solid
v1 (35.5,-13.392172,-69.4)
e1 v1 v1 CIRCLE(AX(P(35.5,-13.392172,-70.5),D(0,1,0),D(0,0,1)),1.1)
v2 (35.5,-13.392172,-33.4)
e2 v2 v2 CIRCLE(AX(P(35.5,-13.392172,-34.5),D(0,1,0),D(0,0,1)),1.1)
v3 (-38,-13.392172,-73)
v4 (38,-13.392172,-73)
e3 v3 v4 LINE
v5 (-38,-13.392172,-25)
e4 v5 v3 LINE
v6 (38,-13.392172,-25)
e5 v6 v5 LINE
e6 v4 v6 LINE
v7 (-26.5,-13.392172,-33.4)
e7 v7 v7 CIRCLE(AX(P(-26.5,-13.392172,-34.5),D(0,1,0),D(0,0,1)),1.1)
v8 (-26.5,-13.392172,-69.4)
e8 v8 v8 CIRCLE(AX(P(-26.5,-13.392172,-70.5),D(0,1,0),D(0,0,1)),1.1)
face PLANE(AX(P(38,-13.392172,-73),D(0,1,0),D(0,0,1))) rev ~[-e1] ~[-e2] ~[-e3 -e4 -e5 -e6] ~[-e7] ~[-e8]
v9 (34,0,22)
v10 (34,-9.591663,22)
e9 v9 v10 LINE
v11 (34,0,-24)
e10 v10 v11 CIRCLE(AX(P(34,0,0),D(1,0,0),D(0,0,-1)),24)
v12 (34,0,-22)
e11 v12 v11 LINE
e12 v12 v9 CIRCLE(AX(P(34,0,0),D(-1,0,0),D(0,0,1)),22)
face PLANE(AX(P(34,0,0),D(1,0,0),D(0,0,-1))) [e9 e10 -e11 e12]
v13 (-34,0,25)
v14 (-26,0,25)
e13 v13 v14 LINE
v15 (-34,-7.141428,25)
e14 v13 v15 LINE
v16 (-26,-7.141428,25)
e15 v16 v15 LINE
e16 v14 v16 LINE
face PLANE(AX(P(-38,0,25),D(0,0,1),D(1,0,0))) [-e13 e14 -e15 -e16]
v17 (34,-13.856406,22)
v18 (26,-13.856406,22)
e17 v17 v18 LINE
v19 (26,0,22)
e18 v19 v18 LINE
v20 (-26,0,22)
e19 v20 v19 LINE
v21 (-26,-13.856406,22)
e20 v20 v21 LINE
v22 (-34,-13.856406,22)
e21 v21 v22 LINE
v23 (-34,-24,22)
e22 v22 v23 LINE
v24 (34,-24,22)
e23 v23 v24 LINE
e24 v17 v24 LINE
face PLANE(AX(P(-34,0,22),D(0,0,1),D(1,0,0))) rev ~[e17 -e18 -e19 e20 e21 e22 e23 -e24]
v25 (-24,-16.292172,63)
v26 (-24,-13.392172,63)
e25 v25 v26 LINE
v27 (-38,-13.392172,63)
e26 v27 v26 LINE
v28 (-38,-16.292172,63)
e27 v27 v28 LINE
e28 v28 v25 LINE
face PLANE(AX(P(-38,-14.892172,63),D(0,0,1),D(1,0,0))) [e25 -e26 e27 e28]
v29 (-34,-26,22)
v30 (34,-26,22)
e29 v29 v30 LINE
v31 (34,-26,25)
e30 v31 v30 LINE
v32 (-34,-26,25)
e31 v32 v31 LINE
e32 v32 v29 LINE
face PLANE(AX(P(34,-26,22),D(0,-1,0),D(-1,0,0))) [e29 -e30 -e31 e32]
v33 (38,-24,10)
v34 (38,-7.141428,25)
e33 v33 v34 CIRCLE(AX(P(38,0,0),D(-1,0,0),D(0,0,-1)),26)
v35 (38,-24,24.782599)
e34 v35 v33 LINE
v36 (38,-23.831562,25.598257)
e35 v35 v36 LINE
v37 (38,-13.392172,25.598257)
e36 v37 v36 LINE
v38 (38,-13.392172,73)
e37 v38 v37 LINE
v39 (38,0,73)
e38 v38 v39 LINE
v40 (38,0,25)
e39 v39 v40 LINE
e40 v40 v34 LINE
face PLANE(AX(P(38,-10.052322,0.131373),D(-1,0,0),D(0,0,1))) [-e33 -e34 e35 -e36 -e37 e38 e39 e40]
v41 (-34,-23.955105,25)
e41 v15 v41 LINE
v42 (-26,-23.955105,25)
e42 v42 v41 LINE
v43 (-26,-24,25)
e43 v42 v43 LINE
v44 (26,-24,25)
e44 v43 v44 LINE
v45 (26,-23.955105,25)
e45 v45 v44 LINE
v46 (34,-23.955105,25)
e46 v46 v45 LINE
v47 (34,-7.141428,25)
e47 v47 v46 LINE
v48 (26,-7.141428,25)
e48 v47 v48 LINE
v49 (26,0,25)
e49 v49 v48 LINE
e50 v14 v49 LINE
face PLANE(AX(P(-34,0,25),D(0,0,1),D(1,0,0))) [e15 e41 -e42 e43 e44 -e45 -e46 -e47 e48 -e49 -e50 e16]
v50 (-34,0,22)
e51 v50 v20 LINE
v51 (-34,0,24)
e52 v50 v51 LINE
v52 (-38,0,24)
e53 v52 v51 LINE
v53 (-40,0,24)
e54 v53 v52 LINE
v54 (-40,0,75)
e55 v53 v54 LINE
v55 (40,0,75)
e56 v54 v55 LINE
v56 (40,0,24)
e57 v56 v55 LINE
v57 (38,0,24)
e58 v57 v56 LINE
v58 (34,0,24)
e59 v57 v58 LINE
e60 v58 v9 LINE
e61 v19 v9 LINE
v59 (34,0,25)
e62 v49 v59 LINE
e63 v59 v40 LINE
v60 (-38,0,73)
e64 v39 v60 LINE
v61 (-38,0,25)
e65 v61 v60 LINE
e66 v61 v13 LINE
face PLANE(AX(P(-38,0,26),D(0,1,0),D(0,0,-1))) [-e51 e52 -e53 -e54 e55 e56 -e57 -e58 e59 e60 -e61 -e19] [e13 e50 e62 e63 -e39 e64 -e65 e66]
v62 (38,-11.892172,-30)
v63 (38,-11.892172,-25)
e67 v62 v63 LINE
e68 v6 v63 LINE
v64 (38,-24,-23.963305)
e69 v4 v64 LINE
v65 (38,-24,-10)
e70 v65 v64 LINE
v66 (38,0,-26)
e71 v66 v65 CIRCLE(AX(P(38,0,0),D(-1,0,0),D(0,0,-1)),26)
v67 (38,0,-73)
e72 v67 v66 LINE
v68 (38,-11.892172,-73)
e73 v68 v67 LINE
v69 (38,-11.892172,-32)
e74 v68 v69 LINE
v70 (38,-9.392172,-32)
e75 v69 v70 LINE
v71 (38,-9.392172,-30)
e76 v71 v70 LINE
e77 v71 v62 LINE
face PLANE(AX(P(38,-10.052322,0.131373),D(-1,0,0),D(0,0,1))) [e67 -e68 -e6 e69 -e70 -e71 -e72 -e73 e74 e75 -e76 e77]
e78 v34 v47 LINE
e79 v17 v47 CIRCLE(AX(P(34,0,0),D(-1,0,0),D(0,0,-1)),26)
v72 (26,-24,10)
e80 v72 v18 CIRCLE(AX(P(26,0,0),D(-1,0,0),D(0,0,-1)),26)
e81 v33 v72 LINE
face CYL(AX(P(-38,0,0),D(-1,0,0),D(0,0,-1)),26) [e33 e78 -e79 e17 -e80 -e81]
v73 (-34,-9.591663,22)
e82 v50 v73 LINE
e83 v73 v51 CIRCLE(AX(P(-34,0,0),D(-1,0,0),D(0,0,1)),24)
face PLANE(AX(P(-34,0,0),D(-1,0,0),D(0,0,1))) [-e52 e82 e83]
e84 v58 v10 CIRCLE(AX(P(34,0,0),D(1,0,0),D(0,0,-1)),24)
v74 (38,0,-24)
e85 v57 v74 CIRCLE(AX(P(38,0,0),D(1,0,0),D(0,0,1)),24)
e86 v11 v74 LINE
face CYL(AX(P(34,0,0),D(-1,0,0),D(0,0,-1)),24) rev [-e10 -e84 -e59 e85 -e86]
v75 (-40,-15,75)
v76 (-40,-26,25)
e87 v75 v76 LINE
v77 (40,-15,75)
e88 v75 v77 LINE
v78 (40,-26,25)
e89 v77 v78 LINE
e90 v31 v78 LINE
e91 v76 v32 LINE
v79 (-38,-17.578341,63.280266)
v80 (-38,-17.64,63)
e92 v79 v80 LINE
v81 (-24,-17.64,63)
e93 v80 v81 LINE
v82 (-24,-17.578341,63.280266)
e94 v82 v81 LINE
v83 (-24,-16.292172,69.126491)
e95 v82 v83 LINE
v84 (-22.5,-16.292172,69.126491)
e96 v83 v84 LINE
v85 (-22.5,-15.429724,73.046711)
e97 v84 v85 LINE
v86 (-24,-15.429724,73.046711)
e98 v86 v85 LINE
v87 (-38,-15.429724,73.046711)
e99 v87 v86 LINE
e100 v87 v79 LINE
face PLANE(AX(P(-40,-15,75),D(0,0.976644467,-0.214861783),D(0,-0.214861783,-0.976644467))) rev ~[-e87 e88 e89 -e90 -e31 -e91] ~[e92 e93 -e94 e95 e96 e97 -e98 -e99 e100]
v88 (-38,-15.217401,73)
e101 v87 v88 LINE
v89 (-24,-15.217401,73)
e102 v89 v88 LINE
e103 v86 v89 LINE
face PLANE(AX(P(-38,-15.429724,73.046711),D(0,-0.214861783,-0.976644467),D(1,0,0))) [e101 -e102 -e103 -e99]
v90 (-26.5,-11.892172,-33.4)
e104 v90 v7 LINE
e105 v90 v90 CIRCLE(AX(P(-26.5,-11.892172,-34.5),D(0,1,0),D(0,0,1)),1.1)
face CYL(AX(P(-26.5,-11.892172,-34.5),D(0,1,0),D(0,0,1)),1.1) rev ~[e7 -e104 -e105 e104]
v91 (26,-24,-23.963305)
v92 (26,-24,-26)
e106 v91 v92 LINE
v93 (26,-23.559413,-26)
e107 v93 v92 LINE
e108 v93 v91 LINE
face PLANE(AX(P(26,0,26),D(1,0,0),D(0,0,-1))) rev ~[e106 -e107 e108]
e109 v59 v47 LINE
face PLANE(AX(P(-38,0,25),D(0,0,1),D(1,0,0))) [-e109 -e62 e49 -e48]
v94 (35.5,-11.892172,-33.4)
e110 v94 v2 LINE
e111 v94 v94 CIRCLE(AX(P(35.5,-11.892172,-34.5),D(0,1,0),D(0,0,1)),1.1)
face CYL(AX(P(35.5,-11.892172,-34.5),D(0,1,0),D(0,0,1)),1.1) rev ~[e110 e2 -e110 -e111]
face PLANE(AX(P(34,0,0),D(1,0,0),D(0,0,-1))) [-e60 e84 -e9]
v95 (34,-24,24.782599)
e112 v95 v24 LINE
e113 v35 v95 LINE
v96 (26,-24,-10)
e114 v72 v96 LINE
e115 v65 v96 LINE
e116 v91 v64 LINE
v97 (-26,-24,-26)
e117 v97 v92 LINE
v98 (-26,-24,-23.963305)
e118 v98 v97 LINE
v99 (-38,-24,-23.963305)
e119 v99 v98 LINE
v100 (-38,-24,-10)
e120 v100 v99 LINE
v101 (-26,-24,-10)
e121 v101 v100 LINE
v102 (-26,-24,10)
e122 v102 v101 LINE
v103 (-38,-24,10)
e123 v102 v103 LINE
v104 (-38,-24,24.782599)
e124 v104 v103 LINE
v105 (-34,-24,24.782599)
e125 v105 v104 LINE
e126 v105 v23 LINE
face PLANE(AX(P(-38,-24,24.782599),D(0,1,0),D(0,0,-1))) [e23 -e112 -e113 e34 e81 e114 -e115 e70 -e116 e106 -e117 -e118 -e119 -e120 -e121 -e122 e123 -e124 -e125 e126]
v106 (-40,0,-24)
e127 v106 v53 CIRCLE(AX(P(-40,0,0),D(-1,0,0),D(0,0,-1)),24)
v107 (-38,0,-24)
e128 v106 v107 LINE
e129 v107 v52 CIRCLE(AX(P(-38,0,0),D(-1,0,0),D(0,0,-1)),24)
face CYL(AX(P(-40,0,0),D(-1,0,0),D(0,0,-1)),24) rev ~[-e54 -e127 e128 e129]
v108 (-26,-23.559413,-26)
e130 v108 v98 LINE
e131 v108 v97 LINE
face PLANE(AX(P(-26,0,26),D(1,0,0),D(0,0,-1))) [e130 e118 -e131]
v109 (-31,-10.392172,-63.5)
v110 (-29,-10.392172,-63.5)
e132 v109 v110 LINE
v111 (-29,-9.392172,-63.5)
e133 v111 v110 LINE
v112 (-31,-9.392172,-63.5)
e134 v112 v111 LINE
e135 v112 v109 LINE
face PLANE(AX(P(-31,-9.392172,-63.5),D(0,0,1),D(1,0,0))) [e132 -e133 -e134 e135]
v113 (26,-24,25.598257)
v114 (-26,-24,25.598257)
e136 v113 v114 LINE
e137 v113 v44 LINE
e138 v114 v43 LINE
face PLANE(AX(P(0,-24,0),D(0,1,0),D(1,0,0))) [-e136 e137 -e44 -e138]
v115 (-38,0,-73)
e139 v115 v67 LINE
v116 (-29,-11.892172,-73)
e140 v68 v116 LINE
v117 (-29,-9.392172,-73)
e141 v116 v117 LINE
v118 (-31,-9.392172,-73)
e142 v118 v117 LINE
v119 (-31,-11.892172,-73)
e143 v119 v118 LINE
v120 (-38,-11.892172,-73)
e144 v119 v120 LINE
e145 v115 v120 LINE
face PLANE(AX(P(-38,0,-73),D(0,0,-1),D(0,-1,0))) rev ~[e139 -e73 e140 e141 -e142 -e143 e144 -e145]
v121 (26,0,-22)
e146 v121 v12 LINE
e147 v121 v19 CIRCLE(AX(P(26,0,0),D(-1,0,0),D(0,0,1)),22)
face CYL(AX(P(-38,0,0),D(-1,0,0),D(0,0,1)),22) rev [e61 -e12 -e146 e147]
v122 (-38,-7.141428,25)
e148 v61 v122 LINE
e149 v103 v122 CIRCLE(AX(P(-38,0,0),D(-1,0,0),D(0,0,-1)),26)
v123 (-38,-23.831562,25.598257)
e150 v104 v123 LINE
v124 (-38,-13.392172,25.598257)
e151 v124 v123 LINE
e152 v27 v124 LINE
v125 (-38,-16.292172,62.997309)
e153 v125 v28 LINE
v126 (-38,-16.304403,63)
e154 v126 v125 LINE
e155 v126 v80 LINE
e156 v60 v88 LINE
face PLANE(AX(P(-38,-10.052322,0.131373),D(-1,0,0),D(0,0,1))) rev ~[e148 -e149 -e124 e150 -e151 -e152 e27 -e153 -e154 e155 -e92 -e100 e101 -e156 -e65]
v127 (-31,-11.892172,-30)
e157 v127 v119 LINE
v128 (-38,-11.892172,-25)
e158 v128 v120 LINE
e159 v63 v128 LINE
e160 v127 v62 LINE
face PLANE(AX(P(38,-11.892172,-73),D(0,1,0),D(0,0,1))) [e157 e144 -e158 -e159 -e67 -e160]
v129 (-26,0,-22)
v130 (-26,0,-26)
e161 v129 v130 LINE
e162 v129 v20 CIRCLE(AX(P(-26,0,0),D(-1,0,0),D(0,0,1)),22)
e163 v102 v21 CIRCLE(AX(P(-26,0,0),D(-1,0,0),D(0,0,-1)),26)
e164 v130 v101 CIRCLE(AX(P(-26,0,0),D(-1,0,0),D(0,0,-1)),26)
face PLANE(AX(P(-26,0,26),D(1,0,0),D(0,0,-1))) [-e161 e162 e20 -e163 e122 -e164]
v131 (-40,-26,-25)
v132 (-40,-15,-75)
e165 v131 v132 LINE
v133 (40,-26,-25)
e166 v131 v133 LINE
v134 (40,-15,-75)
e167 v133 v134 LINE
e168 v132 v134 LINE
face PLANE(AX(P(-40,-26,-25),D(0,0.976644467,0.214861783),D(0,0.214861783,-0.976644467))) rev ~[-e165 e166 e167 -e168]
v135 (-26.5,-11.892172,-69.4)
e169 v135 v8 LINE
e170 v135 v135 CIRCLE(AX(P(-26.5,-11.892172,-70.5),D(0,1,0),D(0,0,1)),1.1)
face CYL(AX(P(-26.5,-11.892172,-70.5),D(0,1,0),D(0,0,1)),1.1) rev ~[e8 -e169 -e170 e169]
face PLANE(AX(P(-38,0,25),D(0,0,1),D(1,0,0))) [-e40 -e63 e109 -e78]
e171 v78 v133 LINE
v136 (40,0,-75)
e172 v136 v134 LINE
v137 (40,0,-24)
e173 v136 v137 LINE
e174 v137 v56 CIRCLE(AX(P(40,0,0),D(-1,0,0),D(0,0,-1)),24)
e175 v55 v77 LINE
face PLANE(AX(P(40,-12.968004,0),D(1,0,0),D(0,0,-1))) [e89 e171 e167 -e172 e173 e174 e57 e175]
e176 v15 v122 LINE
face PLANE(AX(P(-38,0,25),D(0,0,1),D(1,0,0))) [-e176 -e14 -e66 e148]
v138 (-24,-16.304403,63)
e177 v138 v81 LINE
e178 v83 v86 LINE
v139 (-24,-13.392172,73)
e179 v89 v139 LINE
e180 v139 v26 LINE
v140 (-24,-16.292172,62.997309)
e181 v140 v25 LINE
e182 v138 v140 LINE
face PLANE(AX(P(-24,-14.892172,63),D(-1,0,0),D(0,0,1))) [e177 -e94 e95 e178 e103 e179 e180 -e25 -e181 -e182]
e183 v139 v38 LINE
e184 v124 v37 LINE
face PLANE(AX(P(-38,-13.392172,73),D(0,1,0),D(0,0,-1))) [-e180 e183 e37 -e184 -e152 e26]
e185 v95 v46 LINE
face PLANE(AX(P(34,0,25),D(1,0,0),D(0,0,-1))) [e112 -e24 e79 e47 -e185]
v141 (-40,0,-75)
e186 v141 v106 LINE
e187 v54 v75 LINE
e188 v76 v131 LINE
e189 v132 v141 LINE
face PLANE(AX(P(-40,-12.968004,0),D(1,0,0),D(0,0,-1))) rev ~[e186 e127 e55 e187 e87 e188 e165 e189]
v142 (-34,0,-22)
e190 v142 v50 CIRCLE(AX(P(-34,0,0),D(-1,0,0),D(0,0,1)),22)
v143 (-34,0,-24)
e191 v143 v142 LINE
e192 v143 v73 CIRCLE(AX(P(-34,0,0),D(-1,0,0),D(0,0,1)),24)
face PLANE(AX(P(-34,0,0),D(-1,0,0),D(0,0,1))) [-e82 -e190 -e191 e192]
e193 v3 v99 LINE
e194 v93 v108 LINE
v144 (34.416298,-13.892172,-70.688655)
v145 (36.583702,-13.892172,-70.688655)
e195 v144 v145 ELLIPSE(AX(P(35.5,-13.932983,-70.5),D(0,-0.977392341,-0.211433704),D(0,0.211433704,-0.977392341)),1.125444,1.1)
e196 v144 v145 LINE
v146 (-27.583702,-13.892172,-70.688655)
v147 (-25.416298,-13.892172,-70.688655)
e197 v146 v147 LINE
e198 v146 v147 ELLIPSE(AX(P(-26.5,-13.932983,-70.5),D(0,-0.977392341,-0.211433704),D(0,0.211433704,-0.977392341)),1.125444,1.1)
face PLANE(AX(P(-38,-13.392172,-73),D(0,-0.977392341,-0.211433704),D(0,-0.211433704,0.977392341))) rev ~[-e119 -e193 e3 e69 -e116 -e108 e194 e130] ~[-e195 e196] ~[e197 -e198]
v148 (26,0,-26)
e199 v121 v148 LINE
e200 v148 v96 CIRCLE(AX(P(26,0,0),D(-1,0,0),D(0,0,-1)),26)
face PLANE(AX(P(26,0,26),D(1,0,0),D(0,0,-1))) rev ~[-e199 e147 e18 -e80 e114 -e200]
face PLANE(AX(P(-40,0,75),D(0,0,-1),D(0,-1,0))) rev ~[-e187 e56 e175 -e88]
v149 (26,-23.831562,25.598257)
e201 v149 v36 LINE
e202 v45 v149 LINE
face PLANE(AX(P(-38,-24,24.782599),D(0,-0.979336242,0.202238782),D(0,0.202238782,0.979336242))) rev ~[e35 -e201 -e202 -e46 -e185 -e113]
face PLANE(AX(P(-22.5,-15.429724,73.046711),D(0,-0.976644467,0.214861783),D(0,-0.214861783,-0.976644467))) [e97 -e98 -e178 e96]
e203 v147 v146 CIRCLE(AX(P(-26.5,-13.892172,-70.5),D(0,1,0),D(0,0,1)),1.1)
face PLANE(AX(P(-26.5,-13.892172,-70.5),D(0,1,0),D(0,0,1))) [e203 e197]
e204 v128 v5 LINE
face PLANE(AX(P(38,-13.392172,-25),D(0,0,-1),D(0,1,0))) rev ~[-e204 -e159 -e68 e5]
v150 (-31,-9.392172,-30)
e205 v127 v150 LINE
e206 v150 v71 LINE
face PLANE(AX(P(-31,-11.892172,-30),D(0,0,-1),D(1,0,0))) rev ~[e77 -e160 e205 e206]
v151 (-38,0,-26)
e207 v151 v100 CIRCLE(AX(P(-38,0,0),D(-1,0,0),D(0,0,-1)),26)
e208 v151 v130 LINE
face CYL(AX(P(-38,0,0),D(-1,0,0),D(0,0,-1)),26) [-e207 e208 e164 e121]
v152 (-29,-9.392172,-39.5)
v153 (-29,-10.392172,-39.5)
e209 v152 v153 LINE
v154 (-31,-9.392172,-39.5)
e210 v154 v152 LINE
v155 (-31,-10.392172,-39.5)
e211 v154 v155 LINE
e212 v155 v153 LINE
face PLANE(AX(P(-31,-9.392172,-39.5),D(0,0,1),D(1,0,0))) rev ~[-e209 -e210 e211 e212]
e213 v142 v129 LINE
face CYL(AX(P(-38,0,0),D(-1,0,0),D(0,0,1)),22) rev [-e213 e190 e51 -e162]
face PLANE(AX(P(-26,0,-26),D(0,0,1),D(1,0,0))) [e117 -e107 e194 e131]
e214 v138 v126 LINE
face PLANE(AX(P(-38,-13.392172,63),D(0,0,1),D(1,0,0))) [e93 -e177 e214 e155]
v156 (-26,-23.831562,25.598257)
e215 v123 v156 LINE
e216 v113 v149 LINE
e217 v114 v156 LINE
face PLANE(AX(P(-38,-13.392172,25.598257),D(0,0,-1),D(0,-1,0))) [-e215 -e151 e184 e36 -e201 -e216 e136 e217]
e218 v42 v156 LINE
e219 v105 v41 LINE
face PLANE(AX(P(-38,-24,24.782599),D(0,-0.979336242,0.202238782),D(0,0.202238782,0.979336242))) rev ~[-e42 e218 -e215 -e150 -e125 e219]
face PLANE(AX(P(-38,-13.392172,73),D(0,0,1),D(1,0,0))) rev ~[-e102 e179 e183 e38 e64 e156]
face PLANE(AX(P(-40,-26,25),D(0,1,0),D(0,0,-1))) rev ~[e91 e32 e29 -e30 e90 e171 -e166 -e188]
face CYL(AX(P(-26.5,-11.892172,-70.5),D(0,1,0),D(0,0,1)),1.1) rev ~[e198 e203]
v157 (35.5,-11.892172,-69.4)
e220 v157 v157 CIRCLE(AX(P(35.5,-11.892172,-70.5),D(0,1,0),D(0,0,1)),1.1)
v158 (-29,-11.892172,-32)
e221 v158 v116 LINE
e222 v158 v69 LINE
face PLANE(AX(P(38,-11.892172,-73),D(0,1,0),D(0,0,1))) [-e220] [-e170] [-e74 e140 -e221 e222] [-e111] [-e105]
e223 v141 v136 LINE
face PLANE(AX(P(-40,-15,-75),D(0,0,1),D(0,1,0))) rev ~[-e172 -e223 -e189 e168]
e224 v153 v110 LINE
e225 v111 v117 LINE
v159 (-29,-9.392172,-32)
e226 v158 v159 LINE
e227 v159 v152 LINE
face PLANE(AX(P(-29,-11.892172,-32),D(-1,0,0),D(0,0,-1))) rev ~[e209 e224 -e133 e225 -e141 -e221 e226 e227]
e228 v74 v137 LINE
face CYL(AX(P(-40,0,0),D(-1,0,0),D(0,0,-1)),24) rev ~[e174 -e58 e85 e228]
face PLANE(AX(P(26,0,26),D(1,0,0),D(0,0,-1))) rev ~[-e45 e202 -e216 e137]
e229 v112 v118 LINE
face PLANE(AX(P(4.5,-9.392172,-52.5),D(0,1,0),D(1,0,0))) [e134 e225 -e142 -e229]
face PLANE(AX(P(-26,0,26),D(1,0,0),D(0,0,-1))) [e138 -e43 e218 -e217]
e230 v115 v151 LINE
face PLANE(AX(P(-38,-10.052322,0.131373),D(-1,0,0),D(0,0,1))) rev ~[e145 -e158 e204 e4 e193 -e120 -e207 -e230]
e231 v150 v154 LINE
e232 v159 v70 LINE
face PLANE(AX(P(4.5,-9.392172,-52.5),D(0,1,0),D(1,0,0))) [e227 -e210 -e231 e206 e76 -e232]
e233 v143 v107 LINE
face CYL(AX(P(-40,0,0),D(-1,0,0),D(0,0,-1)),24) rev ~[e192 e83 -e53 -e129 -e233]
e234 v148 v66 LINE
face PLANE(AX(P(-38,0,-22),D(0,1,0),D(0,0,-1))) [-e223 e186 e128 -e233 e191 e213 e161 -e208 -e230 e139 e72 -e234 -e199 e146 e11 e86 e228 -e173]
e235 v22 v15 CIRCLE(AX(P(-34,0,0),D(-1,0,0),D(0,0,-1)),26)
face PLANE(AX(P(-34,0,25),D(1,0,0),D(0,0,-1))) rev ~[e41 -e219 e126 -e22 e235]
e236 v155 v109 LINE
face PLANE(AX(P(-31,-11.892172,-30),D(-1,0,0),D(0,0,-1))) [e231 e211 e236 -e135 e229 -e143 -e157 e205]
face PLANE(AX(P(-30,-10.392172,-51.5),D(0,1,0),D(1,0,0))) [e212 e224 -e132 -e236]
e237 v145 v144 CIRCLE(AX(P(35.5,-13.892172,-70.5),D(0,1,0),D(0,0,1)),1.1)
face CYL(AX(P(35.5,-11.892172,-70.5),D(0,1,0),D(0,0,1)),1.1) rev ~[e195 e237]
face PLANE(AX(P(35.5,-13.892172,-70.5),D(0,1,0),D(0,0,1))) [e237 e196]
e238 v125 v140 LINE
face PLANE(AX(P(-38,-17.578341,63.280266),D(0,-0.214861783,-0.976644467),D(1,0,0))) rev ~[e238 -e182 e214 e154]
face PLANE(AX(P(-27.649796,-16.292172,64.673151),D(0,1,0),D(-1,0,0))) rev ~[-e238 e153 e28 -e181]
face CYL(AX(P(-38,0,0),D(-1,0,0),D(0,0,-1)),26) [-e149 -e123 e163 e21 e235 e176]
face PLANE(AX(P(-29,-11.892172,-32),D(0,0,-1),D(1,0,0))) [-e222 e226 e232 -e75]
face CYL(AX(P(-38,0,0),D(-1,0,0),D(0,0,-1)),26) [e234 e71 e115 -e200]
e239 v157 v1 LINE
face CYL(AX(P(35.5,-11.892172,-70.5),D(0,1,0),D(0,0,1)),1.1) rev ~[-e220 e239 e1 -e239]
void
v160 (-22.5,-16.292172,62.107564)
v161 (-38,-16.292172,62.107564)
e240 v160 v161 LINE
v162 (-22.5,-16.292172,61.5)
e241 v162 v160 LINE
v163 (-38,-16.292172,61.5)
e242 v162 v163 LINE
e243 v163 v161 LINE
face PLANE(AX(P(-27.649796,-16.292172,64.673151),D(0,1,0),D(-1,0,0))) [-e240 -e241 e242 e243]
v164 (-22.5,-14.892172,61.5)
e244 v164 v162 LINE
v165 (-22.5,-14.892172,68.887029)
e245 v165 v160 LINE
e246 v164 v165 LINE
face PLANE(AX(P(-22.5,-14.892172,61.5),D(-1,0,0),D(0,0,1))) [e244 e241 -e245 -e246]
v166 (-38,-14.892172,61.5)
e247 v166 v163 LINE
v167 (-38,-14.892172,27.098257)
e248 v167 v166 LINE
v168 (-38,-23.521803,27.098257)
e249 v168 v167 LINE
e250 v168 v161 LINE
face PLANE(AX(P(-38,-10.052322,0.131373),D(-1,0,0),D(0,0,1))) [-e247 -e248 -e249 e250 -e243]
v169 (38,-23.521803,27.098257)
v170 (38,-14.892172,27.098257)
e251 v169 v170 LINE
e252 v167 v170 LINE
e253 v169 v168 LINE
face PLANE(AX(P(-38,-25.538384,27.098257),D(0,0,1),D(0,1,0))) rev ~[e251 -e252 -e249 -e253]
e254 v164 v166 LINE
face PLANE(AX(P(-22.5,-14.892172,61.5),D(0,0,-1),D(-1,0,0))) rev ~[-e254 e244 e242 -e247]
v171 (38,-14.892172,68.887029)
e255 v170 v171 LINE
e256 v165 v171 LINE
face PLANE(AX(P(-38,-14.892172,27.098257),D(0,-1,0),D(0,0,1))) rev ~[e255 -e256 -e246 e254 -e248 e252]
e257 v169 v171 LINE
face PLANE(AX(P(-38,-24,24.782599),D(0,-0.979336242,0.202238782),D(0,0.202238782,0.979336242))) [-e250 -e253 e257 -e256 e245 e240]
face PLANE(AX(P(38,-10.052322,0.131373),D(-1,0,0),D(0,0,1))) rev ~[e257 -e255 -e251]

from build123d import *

# Parameters (mm, degrees)
EXTRUDE_1_DEPTH          = 40
EXTRUDE_1_DEPTH_BACK     = 40
CUT_EXTRUDE_2_DEPTH      = 34
CUT_EXTRUDE_2_DEPTH_BACK = 34
CUT_EXTRUDE_3_DEPTH      = 38
CUT_EXTRUDE_3_DEPTH_BACK = 38
EXTRUDE_2_DEPTH          = 76
CUT_EXTRUDE_START        = -4
SKETCH_9_R               = 24
CUT_EXTRUDE_4_DEPTH      = 4
SKETCH_10_R              = 24
CUT_EXTRUDE_5_DEPTH      = 4
SKETCH_11_W              = 52
SKETCH_11_H              = 52
CUT_EXTRUDE_6_DEPTH      = 24
SKETCH_16_W              = 76
SKETCH_16_H              = 2
CUT_EXTRUDE_8_DEPTH      = 23.5
EXTRUDE_4_DEPTH          = 77.5
SKETCH_19_W              = 68
SKETCH_19_H              = 3
EXTRUDE_6_DEPTH          = 27
SKETCH_21_W              = 14
SKETCH_21_H              = 10
CUT_EXTRUDE_10_DEPTH     = 2
SKETCH_22_W              = 14
SKETCH_22_H              = 10
CUT_EXTRUDE_11_DEPTH     = 6
EXTRUDE_7_DEPTH          = 1.4
CUT_EXTRUDE_12_DEPTH     = 3.4
SKETCH_25_W              = 68
SKETCH_25_H              = 1
CUT_EXTRUDE_13_DEPTH     = 3.4
SKETCH_26_W              = 48
SKETCH_26_H              = 1.5
EXTRUDE_8_DEPTH          = 78
SKETCH_27_W              = 71
SKETCH_27_H              = 45
SKETCH_27_W_2            = 67
SKETCH_27_H_2            = 41
EXTRUDE_9_DEPTH          = 2.5
SKETCH_28_R              = 1.1
CUT_EXTRUDE_14_DEPTH     = 2
SKETCH_29_W              = 2
SKETCH_29_H              = 24
CUT_EXTRUDE_15_DEPTH     = 1


with BuildPart() as part:
    # Эскиз1 → Бобышка-Вытянуть1 (new, two sides: drawn at the far end of the back side and taken through both)
    with BuildSketch(Plane(origin=(0, 0, 0), x_dir=(0, 0, -1), z_dir=(1, 0, 0)).offset(-EXTRUDE_1_DEPTH_BACK)):
        with BuildLine():
            Line((-75, 0), (-75, -15))
            Line((-75, -15), (-25, -26))
            Line((-25, -26), (-4.563728592, -26))
            Line((-4.563728592, -26), (25, -26))
            Line((25, -26), (75, -15))
            Line((75, -15), (75, 0))
            Line((75, 0), (24, 0))
            ThreePointArc((24, 0), (0, -24), (-24, 0))
            Line((-24, 0), (-75, 0))
        make_face()
    extrude(amount=EXTRUDE_1_DEPTH + EXTRUDE_1_DEPTH_BACK)

    # Эскиз3 → Вырез-Вытянуть2 (cut, two sides: drawn at the far end of the back side and taken through both)
    with BuildSketch(Plane(origin=(0, 0, 0), x_dir=(0, 0, -1), z_dir=(1, 0, 0)).offset(-CUT_EXTRUDE_2_DEPTH_BACK)):
        Polygon((26, 0), (73, 0), (73, -13.392171882), (23.878685446, -24), (-24.782599465, -24), (-73, -13.400590035), (-73, 0), (-26, 0), align=None)
    extrude(amount=CUT_EXTRUDE_2_DEPTH + CUT_EXTRUDE_2_DEPTH_BACK, mode=Mode.SUBTRACT)

    # Эскиз7 → Вырез-Вытянуть3 (cut, two sides: drawn at the far end of the back side and taken through both)
    with BuildSketch(Plane(origin=(0, 0, 0), x_dir=(0, 0, -1), z_dir=(1, 0, 0)).offset(-CUT_EXTRUDE_3_DEPTH_BACK)):
        Polygon((-26.2, 0), (26.2, 0), (73, 0), (73, -13.392171882), (23.963305429, -24), (10.509043724, -24), (-10.509043724, -24), (-24.782599465, -24), (-73, -14.042818852), (-73, 0), align=None)
    extrude(amount=CUT_EXTRUDE_3_DEPTH + CUT_EXTRUDE_3_DEPTH_BACK, mode=Mode.SUBTRACT)

    # Эскиз8 → Бобышка-Вытянуть2 (add)
    with BuildSketch(Plane(origin=(-38, 0, 0), x_dir=(0, 0, -1), z_dir=(1, 0, 0))):
        with BuildLine():
            Line((-26, 0), (-22, 0))
            ThreePointArc((-22, 0), (0, -22), (22, 0))
            Line((22, 0), (26, 0))
            ThreePointArc((26, 0), (0, -26), (-26, 0))
        make_face()
    extrude(amount=EXTRUDE_2_DEPTH)

    # Эскиз9 → Вырез-Вытянуть4 (cut)
    with BuildSketch(Plane(origin=(38, 0, 0), x_dir=(0, 0, -1), z_dir=(1, 0, 0)).offset(CUT_EXTRUDE_START)):
        Circle(SKETCH_9_R)
    extrude(amount=CUT_EXTRUDE_4_DEPTH, mode=Mode.SUBTRACT)

    # Эскиз10 → Вырез-Вытянуть5 (cut)
    with BuildSketch(Plane.ZY.offset(38)):
        Circle(SKETCH_10_R)
    extrude(amount=-CUT_EXTRUDE_5_DEPTH, mode=Mode.SUBTRACT)

    # Эскиз11 → Вырез-Вытянуть6 (cut)
    with BuildSketch(Plane(origin=(0, 0, 0), x_dir=(1, 0, 0), z_dir=(0, 1, 0))):
        Rectangle(SKETCH_11_W, SKETCH_11_H)
    extrude(amount=-CUT_EXTRUDE_6_DEPTH, mode=Mode.SUBTRACT)

    # Эскиз16 → Вырез-Вытянуть8 (cut)
    with BuildSketch(Plane(origin=(0, 0, 0), x_dir=(1, 0, 0), z_dir=(0, 1, 0))):
        with Locations((0, -26)):
            Rectangle(SKETCH_16_W, SKETCH_16_H)
    extrude(amount=-CUT_EXTRUDE_8_DEPTH, mode=Mode.SUBTRACT)

    # Эскиз17 → Бобышка-Вытянуть4 (add)
    with BuildSketch(Plane(origin=(-38, 0, 0), x_dir=(0, 0, -1), z_dir=(1, 0, 0))):
        Polygon((-73, -13.392171882), (-25.598256637, -13.392171882), (-25.598256637, -25.86838354), (-27.098256637, -25.53838354), (-27.098256637, -14.892171882), (-73, -14.892171882), align=None)
    extrude(amount=EXTRUDE_4_DEPTH)

    # Эскиз19 → Бобышка-Вытянуть6 (add)
    with BuildSketch(Plane(origin=(0, 0, 0), x_dir=(1, 0, 0), z_dir=(0, 1, 0))):
        with Locations((0, -23.5)):
            Rectangle(SKETCH_19_W, SKETCH_19_H)
    extrude(amount=-EXTRUDE_6_DEPTH)

    # Эскиз21 → Вырез-Вытянуть10 (cut)
    with BuildSketch(Plane(origin=(0, -30.045784052, 6.610072491), x_dir=(1, 0, 0), z_dir=(0, -0.9766444667050901, 0.21486178267511963))):
        with Locations((-31, 63.025408263)):
            Rectangle(SKETCH_21_W, SKETCH_21_H)
    extrude(amount=-CUT_EXTRUDE_10_DEPTH, mode=Mode.SUBTRACT)

    # Эскиз22 → Вырез-Вытянуть11 (cut)
    with BuildSketch(Plane(origin=(0, -13.392171882, 0), x_dir=(1, 0, 0), z_dir=(0, 1, 0))):
        with Locations((-31, -68)):
            Rectangle(SKETCH_22_W, SKETCH_22_H)
    extrude(amount=-CUT_EXTRUDE_11_DEPTH, mode=Mode.SUBTRACT)

    # Эскиз23 → Бобышка-Вытянуть7 (add)
    with BuildSketch(Plane.XZ.offset(14.892171882)):
        Polygon((-38, 63), (-24, 63), (-24, 73.046711067), (-22.5, 73.046711067), (-22.5, 64.14337403), (-22.5, 61.5), (-38, 61.5), align=None)
    extrude(amount=EXTRUDE_7_DEPTH)

    # Эскиз24 → Вырез-Вытянуть12 (cut)
    with BuildSketch(Plane(origin=(-22.5, 0, 0), x_dir=(0, 0, -1), z_dir=(1, 0, 0))):
        Polygon((-73.046711067, -15.429723565), (-69.126491444, -16.292171882), (-73.046711067, -16.292171882), align=None)
    extrude(amount=-CUT_EXTRUDE_12_DEPTH, mode=Mode.SUBTRACT)

    # Эскиз25 → Вырез-Вытянуть13 (cut)
    with BuildSketch(Plane(origin=(0, 0, 22), x_dir=(-1, 0, 0), z_dir=(0, 0, -1))):
        with Locations((0, -26.5)):
            Rectangle(SKETCH_25_W, SKETCH_25_H)
    extrude(amount=-CUT_EXTRUDE_13_DEPTH, mode=Mode.SUBTRACT)

    # Эскиз26 → Бобышка-Вытянуть8 (add)
    with BuildSketch(Plane.ZY.offset(-38)):
        with Locations((-49, -12.642171882)):
            Rectangle(SKETCH_26_W, SKETCH_26_H)
    extrude(amount=EXTRUDE_8_DEPTH)

    # Эскиз27 → Бобышка-Вытянуть9 (add)
    with BuildSketch(Plane(origin=(0, -11.892171882, 0), x_dir=(1, 0, 0), z_dir=(0, 1, 0))):
        with Locations((4.5, 52.5)):
            Rectangle(SKETCH_27_W, SKETCH_27_H)
        with Locations((4.5, 52.5)):
            Rectangle(SKETCH_27_W_2, SKETCH_27_H_2, mode=Mode.SUBTRACT)
    extrude(amount=EXTRUDE_9_DEPTH)

    # Эскиз28 → Вырез-Вытянуть14 (cut)
    with BuildSketch(Plane(origin=(0, -11.892171882, 0), x_dir=(1, 0, 0), z_dir=(0, 1, 0))):
        with Locations((-26.5, 70.5)):
            Circle(SKETCH_28_R)
        with Locations((-26.5, 34.5)):
            Circle(SKETCH_28_R)
        with Locations((35.5, 70.5)):
            Circle(SKETCH_28_R)
        with Locations((35.5, 34.5)):
            Circle(SKETCH_28_R)
    extrude(amount=-CUT_EXTRUDE_14_DEPTH, mode=Mode.SUBTRACT)

    # Эскиз29 → Вырез-Вытянуть15 (cut)
    with BuildSketch(Plane(origin=(0, -9.392171882, 0), x_dir=(1, 0, 0), z_dir=(0, 1, 0))):
        with Locations((-30, 51.5)):
            Rectangle(SKETCH_29_W, SKETCH_29_H)
    extrude(amount=-CUT_EXTRUDE_15_DEPTH, mode=Mode.SUBTRACT)


solid = part.part
